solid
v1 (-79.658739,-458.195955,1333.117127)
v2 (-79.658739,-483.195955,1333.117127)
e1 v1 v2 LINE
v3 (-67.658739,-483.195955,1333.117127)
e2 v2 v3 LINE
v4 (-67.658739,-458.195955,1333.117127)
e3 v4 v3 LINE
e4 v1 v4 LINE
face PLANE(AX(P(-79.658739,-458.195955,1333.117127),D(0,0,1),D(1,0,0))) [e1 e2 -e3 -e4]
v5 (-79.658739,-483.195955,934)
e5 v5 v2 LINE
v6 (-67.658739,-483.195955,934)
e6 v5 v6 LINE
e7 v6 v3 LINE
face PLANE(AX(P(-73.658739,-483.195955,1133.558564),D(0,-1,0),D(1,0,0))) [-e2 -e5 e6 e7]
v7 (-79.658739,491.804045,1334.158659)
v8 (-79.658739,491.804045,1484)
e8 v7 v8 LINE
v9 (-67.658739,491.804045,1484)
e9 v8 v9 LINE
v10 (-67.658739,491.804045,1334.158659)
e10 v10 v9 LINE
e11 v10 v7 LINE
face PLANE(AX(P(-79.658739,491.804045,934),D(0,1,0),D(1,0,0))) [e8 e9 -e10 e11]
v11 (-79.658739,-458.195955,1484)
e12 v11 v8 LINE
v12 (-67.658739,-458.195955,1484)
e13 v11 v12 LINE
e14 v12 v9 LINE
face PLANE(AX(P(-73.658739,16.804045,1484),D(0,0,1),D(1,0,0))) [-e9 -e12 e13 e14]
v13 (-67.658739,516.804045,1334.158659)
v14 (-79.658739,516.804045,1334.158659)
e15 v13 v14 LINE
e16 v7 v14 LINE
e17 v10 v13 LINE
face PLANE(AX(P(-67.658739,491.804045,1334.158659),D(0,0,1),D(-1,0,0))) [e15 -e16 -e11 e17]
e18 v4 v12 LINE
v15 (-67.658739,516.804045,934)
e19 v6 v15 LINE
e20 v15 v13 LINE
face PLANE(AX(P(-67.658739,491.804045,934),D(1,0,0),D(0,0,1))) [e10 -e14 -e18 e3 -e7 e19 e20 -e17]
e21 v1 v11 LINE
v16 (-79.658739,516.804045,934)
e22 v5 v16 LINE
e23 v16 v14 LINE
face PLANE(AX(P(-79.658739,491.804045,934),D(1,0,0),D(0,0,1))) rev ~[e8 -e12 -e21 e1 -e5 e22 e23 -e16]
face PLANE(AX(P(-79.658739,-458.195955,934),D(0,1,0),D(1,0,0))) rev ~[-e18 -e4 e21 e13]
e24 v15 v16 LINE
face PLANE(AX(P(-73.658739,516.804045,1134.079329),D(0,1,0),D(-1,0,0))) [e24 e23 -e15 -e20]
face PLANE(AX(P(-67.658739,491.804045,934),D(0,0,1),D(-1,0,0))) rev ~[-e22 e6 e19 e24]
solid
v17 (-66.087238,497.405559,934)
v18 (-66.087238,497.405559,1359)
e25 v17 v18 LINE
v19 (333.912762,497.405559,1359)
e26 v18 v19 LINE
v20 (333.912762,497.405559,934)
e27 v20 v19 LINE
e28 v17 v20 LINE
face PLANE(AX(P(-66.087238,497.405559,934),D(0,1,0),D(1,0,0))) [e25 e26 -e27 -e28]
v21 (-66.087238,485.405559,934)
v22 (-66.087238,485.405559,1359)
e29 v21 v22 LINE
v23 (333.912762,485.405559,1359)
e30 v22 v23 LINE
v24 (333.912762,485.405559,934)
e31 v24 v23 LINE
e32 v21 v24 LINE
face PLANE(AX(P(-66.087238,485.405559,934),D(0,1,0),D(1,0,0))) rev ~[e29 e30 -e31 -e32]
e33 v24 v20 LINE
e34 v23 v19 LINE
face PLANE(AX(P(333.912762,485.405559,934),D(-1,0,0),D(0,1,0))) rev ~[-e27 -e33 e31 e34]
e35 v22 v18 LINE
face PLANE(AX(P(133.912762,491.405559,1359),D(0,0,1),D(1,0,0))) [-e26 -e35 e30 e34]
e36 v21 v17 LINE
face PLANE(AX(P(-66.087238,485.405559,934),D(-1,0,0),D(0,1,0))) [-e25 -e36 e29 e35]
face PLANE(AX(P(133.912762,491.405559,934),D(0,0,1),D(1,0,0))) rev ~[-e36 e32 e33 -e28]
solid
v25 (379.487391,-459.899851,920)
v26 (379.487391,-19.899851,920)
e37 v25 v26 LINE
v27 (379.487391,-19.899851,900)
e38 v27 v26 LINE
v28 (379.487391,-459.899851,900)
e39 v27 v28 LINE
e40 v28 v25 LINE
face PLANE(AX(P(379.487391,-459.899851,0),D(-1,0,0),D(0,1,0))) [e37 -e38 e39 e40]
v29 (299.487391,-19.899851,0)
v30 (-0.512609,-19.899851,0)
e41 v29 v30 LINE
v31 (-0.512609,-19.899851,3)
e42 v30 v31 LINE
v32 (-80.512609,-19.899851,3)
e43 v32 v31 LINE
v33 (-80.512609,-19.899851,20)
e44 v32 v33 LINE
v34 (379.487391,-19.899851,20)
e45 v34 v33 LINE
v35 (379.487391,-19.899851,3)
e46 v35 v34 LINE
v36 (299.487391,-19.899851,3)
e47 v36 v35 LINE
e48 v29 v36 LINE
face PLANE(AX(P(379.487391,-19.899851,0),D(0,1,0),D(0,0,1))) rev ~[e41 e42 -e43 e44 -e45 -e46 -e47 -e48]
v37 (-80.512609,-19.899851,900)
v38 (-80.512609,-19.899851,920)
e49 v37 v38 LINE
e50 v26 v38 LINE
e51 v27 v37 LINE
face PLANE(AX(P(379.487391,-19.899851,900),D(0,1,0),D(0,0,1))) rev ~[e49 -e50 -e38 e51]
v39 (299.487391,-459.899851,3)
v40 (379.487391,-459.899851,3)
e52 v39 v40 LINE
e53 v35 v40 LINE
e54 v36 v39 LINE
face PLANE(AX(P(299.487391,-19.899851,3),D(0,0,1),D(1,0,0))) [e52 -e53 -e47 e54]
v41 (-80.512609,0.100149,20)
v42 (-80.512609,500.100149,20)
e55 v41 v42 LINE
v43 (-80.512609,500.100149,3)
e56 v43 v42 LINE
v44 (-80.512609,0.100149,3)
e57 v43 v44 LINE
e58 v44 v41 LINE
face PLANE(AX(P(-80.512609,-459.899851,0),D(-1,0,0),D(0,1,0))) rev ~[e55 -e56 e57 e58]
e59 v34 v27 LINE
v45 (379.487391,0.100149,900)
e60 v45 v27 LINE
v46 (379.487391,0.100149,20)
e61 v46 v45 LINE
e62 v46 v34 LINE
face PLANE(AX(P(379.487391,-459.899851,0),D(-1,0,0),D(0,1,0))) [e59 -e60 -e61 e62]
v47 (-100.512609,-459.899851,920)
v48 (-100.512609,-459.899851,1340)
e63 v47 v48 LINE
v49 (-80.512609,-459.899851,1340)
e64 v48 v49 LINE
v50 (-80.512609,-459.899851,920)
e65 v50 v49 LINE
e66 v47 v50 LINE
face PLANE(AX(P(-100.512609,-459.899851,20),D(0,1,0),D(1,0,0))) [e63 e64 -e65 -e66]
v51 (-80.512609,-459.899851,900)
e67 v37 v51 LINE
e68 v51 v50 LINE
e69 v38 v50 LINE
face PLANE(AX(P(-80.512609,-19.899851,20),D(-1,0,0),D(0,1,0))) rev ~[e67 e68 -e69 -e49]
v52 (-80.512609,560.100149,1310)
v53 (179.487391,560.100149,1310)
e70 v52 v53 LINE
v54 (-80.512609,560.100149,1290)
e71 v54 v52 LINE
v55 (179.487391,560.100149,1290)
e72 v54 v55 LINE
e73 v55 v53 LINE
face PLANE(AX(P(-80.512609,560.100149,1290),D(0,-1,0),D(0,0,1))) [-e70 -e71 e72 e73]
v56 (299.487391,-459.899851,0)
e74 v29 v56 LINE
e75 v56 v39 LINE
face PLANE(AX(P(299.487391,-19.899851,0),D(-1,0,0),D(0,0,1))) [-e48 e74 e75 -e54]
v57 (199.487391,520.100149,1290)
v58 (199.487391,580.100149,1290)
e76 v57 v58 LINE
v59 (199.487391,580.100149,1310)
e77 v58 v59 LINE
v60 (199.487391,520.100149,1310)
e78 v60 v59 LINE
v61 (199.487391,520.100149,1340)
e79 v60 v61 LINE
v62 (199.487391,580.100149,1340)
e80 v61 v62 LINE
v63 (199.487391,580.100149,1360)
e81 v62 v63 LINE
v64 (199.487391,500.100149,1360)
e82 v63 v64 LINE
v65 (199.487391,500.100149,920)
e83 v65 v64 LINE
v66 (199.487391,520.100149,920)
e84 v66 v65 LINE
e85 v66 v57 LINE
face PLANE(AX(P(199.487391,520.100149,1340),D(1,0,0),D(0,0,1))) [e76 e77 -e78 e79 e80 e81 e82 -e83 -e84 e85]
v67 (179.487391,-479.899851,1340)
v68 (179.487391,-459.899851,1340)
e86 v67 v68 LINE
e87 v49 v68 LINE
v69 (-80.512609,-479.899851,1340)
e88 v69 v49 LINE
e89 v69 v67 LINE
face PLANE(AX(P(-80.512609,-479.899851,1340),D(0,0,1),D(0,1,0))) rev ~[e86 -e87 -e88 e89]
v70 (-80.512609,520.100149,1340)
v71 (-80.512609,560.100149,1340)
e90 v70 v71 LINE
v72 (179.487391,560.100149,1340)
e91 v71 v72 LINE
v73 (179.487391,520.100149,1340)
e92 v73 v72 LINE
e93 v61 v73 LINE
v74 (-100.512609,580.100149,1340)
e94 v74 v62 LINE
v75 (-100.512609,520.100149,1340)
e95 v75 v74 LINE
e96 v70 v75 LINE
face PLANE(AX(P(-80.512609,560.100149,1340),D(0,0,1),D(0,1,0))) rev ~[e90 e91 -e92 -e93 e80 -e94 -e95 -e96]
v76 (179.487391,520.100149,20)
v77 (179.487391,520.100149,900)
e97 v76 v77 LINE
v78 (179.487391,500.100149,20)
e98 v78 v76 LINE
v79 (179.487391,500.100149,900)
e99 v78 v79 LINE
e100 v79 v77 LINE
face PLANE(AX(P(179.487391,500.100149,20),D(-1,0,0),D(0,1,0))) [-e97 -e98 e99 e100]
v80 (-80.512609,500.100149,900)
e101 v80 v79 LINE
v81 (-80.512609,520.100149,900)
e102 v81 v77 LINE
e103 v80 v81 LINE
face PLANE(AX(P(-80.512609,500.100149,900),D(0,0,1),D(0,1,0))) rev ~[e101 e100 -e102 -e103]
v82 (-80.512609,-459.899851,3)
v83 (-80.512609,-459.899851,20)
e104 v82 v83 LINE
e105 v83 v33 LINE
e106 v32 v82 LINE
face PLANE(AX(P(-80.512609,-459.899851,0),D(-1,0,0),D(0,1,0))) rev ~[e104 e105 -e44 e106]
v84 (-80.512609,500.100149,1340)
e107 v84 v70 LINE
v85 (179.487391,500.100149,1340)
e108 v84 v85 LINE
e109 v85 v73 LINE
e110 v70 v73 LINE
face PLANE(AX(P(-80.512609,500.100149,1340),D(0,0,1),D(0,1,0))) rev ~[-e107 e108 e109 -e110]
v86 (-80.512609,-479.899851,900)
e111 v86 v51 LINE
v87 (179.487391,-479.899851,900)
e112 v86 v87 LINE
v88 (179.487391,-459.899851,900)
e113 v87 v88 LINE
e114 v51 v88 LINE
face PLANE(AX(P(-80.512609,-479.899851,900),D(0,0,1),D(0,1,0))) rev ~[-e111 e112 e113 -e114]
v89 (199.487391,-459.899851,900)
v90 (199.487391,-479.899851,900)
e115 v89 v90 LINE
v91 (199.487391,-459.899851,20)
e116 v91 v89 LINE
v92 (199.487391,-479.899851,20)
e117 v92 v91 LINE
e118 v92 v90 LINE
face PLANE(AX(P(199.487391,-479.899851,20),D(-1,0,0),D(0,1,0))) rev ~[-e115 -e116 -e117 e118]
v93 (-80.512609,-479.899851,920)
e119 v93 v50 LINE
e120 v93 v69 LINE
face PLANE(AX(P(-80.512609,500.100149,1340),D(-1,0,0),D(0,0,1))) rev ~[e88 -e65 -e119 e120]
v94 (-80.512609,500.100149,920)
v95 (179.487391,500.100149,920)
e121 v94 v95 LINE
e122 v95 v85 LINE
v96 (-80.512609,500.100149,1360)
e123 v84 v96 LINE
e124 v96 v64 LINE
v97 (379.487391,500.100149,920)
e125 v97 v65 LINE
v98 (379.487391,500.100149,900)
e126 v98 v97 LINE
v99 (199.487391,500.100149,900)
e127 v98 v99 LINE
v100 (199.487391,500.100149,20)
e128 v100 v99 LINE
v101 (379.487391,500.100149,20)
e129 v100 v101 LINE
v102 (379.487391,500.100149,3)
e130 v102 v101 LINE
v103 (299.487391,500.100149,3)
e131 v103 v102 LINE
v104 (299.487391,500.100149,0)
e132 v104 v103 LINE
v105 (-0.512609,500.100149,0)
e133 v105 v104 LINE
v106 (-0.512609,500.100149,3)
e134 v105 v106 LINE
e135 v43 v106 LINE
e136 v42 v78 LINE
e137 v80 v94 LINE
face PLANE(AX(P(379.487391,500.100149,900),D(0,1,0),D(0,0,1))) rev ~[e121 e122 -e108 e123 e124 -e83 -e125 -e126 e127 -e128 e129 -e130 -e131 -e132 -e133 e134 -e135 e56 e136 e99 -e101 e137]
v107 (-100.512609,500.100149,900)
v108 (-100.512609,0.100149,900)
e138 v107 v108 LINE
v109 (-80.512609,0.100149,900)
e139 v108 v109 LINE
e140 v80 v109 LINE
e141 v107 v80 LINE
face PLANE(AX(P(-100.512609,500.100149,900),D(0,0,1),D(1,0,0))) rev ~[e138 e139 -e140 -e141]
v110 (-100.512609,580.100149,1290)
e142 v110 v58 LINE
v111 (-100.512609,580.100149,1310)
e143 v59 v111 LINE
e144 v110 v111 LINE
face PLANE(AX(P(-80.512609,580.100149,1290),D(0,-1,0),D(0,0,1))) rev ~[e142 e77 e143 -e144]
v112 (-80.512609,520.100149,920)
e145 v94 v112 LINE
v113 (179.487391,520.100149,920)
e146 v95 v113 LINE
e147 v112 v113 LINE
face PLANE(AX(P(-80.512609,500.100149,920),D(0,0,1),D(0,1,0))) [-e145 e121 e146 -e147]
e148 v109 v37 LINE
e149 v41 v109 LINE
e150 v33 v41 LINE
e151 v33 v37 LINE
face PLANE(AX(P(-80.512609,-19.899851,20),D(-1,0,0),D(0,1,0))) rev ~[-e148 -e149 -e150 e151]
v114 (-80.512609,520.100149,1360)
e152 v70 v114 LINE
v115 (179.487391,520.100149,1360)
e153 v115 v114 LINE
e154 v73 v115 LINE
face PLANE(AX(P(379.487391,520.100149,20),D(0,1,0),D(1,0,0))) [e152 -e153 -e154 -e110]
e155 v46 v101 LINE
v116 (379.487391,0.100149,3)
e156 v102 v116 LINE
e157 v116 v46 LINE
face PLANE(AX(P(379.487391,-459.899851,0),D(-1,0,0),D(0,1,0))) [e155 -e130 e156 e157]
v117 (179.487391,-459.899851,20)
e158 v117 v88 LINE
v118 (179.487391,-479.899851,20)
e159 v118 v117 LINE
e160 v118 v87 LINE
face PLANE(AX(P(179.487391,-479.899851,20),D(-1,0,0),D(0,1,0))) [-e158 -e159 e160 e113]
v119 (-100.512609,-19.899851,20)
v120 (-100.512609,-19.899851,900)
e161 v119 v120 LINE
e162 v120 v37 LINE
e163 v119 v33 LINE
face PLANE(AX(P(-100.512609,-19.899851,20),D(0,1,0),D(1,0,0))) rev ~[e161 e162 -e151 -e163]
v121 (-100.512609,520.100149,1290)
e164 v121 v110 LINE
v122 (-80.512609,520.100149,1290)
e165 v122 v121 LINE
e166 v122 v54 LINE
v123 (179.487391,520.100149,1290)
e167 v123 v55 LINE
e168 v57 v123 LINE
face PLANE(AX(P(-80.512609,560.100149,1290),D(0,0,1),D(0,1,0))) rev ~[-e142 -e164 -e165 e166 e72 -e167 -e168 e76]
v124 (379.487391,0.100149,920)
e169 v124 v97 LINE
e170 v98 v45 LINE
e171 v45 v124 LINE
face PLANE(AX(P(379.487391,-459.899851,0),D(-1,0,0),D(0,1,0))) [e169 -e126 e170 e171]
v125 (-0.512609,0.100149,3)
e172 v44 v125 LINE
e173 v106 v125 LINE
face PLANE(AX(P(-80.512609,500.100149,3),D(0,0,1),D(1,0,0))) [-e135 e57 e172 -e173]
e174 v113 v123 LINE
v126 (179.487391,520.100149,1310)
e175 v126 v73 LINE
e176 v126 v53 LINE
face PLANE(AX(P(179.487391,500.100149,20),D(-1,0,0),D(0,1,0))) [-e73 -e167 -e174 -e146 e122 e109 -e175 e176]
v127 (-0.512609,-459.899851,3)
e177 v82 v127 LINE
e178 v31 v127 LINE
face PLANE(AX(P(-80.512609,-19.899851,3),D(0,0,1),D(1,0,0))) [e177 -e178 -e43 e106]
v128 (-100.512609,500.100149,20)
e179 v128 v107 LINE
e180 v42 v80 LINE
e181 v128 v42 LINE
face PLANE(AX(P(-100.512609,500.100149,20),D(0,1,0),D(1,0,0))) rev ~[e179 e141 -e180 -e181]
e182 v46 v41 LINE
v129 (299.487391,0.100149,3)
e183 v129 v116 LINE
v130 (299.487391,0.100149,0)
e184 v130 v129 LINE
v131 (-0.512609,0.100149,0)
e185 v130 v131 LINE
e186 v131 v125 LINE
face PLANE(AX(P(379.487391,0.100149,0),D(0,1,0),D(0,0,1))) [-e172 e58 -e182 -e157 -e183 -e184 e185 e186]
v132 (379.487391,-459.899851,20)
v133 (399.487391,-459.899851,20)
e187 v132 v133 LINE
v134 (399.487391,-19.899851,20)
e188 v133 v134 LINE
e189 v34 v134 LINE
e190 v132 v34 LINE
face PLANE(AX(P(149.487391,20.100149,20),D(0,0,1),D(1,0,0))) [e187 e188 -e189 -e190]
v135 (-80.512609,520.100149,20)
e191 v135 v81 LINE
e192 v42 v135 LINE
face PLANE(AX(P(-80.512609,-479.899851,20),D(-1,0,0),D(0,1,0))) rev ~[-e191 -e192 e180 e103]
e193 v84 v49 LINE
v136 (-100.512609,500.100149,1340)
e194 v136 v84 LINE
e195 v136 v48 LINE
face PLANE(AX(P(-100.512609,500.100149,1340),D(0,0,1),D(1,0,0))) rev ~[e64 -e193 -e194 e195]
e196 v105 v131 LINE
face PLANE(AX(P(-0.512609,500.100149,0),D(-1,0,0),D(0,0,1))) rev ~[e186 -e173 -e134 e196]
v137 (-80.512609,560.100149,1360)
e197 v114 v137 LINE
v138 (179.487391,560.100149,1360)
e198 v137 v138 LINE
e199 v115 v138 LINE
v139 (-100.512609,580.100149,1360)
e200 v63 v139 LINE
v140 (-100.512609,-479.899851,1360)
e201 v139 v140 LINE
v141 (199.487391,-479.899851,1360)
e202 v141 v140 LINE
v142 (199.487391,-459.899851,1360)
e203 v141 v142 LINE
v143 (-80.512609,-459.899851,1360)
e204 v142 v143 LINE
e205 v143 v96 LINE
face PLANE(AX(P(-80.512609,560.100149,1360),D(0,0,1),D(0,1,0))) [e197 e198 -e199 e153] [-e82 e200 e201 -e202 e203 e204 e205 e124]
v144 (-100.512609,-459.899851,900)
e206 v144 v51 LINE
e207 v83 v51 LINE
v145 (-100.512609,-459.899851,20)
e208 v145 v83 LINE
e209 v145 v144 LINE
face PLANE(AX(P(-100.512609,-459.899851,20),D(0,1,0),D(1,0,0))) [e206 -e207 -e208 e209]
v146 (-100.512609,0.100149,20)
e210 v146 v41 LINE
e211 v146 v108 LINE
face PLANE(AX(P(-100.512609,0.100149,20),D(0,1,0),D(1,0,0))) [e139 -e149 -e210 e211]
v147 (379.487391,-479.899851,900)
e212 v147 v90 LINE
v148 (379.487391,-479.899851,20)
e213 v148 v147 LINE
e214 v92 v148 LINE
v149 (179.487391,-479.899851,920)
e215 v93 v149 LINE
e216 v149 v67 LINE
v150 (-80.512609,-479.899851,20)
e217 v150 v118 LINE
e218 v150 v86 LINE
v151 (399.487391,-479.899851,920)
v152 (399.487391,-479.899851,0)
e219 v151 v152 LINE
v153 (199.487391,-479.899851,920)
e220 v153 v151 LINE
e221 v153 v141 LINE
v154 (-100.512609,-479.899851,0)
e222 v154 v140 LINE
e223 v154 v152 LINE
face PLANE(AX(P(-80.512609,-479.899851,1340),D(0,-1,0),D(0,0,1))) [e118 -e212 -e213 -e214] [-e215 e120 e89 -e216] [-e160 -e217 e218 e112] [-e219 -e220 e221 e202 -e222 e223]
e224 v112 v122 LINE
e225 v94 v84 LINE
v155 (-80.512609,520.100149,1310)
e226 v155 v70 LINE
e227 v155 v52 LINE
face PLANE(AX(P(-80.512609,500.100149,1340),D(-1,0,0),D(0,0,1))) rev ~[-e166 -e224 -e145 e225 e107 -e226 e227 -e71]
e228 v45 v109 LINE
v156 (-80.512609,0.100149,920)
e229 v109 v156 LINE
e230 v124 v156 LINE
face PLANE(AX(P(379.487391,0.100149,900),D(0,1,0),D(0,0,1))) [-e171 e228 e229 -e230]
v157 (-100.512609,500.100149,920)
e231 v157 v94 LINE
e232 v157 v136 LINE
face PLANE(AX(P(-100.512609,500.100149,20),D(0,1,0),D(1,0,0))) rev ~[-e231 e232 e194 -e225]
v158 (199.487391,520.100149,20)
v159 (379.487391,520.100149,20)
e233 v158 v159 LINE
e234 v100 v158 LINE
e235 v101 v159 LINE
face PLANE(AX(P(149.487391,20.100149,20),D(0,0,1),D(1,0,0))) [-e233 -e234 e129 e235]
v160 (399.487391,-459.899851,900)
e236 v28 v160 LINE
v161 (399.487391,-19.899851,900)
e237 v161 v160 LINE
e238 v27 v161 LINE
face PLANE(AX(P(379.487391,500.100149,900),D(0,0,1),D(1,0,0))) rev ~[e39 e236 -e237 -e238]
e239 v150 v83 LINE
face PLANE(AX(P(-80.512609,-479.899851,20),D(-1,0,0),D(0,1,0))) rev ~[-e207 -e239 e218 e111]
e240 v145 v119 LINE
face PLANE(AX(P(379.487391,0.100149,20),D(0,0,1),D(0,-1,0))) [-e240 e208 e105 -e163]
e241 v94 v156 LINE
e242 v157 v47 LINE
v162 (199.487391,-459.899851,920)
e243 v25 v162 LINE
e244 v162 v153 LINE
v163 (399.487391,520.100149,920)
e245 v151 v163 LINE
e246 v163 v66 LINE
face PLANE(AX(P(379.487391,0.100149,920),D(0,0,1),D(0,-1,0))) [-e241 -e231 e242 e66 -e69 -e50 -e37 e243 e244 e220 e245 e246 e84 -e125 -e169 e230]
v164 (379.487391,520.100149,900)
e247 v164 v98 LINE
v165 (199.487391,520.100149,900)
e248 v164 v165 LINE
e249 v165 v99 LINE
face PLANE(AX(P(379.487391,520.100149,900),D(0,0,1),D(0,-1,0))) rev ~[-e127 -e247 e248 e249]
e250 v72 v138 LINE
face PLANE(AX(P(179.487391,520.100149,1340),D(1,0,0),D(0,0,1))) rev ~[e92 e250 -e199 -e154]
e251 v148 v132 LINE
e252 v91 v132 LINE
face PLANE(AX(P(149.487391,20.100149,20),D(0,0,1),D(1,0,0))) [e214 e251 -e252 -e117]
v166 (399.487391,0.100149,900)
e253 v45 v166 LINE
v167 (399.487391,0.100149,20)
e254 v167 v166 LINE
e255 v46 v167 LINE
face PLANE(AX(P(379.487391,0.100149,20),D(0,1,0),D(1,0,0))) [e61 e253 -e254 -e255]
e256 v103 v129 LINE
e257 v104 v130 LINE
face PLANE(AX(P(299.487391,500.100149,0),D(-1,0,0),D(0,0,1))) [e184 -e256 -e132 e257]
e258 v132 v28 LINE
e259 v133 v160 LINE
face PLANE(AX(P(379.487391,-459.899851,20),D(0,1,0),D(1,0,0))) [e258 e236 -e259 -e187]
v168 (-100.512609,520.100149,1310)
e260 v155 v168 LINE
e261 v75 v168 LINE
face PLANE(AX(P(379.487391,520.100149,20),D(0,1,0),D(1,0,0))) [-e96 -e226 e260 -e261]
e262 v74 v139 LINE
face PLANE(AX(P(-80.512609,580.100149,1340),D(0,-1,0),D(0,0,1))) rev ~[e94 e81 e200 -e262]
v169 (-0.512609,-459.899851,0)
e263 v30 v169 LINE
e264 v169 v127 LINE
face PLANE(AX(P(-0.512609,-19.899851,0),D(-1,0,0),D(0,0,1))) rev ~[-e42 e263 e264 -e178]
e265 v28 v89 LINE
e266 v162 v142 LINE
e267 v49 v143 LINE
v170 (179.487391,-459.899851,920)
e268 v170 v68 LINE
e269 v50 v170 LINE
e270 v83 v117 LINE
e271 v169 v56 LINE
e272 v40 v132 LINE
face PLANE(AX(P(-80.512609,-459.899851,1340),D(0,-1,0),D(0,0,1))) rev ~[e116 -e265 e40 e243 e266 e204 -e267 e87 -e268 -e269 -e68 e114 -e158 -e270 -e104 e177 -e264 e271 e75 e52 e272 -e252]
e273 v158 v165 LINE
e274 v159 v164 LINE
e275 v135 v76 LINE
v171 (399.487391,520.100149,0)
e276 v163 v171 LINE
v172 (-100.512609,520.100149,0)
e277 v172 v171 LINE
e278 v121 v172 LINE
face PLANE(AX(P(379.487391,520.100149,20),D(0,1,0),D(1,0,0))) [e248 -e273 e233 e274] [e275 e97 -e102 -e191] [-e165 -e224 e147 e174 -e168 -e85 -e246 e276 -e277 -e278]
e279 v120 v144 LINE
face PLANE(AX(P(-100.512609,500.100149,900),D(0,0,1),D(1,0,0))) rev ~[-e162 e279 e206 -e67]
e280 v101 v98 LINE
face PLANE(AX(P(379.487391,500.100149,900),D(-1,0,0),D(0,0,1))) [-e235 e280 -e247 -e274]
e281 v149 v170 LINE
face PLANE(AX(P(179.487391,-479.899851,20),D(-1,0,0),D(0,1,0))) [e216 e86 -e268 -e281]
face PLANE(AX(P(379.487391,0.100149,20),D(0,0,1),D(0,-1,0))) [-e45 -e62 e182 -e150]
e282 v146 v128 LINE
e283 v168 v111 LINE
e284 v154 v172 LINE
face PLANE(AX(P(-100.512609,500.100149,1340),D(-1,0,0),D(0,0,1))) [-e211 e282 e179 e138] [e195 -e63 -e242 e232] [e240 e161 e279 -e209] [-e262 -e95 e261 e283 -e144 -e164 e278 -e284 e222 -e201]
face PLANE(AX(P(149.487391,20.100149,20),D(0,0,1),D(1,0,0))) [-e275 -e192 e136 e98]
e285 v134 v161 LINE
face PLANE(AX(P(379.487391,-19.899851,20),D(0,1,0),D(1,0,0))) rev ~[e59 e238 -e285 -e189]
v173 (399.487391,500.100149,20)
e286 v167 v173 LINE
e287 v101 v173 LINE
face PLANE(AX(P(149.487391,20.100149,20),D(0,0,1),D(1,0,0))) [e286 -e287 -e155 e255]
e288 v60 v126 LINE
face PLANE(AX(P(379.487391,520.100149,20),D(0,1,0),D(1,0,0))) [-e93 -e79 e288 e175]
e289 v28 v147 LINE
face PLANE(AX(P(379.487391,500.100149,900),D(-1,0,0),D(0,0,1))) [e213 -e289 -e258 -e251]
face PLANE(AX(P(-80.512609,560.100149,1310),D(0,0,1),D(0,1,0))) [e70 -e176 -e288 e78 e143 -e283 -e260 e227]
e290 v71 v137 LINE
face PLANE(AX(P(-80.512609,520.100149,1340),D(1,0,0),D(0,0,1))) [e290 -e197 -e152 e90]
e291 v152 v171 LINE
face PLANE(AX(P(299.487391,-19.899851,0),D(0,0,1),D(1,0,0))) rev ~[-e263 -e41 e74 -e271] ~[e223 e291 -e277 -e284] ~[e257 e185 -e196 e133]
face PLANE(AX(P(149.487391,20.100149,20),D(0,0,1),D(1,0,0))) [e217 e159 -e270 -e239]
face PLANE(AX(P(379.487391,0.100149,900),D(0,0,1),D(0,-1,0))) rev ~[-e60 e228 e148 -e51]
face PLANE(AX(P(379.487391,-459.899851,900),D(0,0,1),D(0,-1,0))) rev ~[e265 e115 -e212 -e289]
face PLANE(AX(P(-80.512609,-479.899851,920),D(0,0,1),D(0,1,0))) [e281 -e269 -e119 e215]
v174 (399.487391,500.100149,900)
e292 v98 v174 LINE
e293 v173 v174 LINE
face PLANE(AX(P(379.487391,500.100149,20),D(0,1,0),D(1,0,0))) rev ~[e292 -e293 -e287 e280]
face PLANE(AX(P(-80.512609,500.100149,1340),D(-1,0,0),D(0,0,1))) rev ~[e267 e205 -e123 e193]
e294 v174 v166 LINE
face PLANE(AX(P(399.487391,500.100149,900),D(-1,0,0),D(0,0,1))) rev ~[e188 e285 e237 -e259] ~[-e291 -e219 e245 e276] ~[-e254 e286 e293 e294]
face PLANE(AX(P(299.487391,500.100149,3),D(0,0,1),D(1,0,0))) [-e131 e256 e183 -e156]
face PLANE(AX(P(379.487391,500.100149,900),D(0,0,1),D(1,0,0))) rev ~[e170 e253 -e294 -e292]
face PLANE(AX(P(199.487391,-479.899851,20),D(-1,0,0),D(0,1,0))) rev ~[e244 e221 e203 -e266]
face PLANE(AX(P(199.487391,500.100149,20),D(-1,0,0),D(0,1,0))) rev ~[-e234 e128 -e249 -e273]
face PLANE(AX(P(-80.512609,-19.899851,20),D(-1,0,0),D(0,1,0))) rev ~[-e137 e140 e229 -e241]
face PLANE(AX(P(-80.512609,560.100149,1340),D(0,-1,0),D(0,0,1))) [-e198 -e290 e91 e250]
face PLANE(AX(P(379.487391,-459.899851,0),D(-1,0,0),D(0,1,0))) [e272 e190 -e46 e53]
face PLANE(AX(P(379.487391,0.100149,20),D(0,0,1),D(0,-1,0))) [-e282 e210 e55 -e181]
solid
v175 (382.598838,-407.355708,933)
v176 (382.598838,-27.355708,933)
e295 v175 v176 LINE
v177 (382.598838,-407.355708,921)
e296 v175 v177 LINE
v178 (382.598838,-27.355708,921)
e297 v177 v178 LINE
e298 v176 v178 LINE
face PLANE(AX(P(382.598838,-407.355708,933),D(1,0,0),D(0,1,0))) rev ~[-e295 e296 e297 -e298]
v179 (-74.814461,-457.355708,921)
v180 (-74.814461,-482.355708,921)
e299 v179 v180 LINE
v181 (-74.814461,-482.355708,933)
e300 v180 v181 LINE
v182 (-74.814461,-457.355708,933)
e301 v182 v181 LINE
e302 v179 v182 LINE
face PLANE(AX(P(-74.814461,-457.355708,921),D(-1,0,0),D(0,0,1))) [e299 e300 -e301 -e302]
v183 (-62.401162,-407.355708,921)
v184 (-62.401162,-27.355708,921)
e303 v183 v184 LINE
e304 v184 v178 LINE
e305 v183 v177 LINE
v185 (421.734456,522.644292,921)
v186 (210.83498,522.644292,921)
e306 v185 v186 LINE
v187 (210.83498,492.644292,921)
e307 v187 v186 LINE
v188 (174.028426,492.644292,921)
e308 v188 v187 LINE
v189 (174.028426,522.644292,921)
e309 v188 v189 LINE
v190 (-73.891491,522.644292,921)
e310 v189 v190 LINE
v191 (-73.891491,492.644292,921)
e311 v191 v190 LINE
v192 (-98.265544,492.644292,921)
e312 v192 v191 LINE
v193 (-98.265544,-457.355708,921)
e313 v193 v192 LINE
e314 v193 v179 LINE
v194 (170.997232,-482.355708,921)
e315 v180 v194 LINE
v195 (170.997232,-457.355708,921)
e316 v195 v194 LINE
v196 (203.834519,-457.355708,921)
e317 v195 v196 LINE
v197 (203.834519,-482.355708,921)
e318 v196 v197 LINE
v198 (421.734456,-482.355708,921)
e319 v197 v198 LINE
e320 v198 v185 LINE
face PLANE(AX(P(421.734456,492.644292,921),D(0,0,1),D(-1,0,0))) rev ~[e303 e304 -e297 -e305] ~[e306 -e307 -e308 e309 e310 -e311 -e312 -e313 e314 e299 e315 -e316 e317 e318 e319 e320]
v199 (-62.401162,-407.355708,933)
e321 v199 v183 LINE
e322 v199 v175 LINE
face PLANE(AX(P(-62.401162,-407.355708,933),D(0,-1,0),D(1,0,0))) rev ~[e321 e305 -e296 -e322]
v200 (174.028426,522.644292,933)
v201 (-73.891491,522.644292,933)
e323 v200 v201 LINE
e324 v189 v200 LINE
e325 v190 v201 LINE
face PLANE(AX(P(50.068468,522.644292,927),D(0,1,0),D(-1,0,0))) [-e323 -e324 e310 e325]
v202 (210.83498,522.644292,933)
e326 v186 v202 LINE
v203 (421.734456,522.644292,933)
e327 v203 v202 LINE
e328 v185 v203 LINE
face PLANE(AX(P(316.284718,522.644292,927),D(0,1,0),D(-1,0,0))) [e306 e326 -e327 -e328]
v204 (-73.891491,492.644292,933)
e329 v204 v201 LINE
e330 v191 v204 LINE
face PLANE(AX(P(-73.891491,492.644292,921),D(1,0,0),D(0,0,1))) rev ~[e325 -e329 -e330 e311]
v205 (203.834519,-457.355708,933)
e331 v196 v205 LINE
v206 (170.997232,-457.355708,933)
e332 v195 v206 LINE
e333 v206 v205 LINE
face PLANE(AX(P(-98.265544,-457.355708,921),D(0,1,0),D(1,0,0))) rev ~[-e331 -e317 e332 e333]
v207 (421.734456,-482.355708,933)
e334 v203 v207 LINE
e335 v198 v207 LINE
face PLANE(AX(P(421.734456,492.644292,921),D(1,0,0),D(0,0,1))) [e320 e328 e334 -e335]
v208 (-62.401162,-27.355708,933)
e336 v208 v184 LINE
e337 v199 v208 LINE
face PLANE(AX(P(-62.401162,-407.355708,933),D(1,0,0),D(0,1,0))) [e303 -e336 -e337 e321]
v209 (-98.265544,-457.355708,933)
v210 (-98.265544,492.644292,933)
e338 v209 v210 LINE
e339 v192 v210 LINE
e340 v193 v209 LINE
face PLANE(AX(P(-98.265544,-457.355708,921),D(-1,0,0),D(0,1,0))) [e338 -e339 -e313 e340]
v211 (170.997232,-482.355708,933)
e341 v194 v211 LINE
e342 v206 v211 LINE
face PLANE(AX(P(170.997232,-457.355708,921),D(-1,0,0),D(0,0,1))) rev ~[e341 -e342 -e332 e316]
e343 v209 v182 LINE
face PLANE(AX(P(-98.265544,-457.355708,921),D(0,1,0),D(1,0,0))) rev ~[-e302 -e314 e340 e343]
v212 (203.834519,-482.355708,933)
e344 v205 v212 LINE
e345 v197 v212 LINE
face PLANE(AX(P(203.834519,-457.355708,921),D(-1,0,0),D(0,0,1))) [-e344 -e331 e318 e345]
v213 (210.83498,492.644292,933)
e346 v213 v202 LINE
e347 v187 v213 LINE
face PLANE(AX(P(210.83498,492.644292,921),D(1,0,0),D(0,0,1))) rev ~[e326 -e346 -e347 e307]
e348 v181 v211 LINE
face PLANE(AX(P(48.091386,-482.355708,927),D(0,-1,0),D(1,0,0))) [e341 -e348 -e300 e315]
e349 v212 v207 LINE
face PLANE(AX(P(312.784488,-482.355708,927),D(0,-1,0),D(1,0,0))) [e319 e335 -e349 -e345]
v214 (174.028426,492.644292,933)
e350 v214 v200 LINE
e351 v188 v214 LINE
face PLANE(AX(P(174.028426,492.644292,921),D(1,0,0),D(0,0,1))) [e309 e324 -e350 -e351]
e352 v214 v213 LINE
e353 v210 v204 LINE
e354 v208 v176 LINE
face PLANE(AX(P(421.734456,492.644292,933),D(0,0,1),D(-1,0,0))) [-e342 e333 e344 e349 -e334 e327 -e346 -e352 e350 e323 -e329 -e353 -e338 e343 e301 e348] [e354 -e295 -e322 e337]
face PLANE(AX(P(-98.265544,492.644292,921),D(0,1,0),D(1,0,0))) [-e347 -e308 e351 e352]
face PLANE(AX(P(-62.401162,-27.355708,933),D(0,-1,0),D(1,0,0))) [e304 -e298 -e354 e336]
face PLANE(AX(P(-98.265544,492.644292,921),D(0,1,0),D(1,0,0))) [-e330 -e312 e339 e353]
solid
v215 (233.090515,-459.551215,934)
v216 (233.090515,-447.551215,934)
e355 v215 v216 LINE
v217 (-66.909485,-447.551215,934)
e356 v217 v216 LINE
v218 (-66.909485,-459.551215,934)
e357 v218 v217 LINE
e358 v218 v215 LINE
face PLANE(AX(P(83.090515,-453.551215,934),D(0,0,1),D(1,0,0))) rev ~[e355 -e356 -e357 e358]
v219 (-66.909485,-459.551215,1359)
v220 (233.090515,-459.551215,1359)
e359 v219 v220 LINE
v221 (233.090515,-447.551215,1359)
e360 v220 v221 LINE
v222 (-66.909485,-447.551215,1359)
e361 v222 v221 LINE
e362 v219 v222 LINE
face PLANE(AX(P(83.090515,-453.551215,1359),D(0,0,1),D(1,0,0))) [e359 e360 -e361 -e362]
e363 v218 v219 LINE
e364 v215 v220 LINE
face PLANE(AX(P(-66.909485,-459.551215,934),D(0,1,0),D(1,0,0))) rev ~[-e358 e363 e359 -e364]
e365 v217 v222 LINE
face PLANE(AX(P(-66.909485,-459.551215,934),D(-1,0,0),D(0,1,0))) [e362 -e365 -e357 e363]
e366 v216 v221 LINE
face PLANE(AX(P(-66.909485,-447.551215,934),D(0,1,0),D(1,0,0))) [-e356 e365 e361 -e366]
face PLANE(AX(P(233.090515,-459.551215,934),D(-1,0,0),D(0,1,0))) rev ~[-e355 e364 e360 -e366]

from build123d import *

# Parameters (mm, degrees)
F0_W      = 500
F0_H      = 1000
F0_W_2    = 460
F0_H_2    = 960
F1_DEPTH  = 20
F2_W      = 20
F2_H      = 20
F3_DEPTH  = 1340
F4_W      = 20
F4_H      = 20
F5_DEPTH  = 900
F6_W      = 20
F6_H      = 20
F7_DEPTH  = 960
F8_W      = 20
F8_H      = 20
F9_DEPTH  = 180
F10_W     = 20
F10_H     = 20
F11_DEPTH = 880
F12_W     = 20
F12_H     = 20
F13_DEPTH = 460
F14_W     = 20
F14_H     = 20
F15_DEPTH = 960
F16_W     = 20
F16_H     = 20
F17_DEPTH = 260
F18_W     = 20
F18_H     = 20
F19_DEPTH = 880
F20_W     = 20
F20_H     = 20
F21_DEPTH = 460
F22_W     = 20
F22_H     = 20
F23_DEPTH = 960
F24_W     = 20
F24_H     = 20
F25_DEPTH = 260
F26_W     = 20
F26_H     = 20
F27_DEPTH = 60
F28_W     = 20
F28_H     = 20
F29_DEPTH = 260
F30_W     = 80
F30_H     = 3
F31_DEPTH = 500
F32_W     = 80
F32_H     = 3
F33_DEPTH = 440
F34_W     = 20
F34_H     = 20
F35_DEPTH = 260
F37_W     = 520
F37_H     = 950
F38_DEPTH = 12
F39_W     = 445
F39_H     = 380
F40_DEPTH = 25
F41_W     = 245.8116933703
F41_H     = 12
F41_W_2   = 217.8999376297
F42_DEPTH = 25
F43_W     = 210.899476409
F43_H     = 12
F43_W_2   = 247.9199171066
F44_DEPTH = 30
F46_W     = 12
F46_H     = 950
F47_DEPTH = 550
F48_W     = 12
F48_H     = 399.1171274185
F49_DEPTH = 25
F50_W     = 400
F50_H     = 12
F51_DEPTH = 425
F52_W     = 12
F52_H     = 400.1586589813
F53_DEPTH = 25
F54_W     = 300
F54_H     = 12
F55_DEPTH = 425


with BuildPart() as f1:
    # F0 (on Top) → F1 (new body)
    with BuildSketch(Plane.XY):
        with Locations((149.4873911142, 20.100149343)):
            Rectangle(F0_W, F0_H)
        with Locations((149.4873911142, 20.100149343)):
            Rectangle(F0_W_2, F0_H_2, mode=Mode.SUBTRACT)
    extrude(amount=F1_DEPTH)

    # F2 (on face) → F3 (join)
    with BuildSketch(Plane.XY.offset(20)):
        with Locations((-90.5126088858, 510.100149343)):
            Rectangle(F2_W, F2_H)
        with Locations((-90.5126088858, -469.899850657)):
            Rectangle(F2_W, F2_H)
        with Locations((189.4873911142, -469.899850657)):
            Rectangle(F2_W, F2_H)
        with Locations((189.4873911142, 510.100149343)):
            Rectangle(F2_W, F2_H)
    extrude(amount=F3_DEPTH)

    # F4 (on face) → F5 (join)
    with BuildSketch(Plane.XY.offset(20)):
        with Locations((389.4873911142, 510.100149343)):
            Rectangle(F4_W, F4_H)
        with Locations((389.4873911142, -469.899850657)):
            Rectangle(F4_W, F4_H)
    extrude(amount=F5_DEPTH)

    # F6 (on face) → F7 (join, through all)
    with BuildSketch(Plane.XZ.offset(-500.100149343)):
        with Locations((389.4873911142, 910)):
            Rectangle(F6_W, F6_H)
    extrude(amount=F7_DEPTH)

    # F8 (on face) → F9 (join, through all)
    with BuildSketch(Plane(origin=(379.4873911142, 0, 0), x_dir=(0, -1, 0), z_dir=(-1, 0, 0))):
        with Locations((469.899850657, 910)):
            Rectangle(F8_W, F8_H)
        with Locations((-510.100149343, 910)):
            Rectangle(F8_W, F8_H)
    extrude(amount=F9_DEPTH)

    # F10 (on face) → F11 (join, through all)
    with BuildSketch(Plane.XY.offset(20)):
        with Locations((389.4873911142, -9.899850657)):
            Rectangle(F10_W, F10_H)
    extrude(amount=F11_DEPTH)

    # F12 (on face) → F13 (join, through all)
    with BuildSketch(Plane(origin=(379.4873911142, 0, 0), x_dir=(0, -1, 0), z_dir=(-1, 0, 0))):
        with Locations((9.899850657, 10)):
            Rectangle(F12_W, F12_H)
    extrude(amount=F13_DEPTH)

    # F14 (on face) → F15 (join, through all)
    with BuildSketch(Plane.XZ.offset(-500.100149343)):
        with Locations((-90.5126088858, 910)):
            Rectangle(F14_W, F14_H)
    extrude(amount=F15_DEPTH)

    # F16 (on face) → F17 (join, through all)
    with BuildSketch(Plane.YZ.offset(-80.5126088858)):
        with Locations((-469.899850657, 910)):
            Rectangle(F16_W, F16_H)
        with Locations((510.100149343, 910)):
            Rectangle(F16_W, F16_H)
    extrude(amount=F17_DEPTH)

    # F18 (on face) → F19 (join, through all)
    with BuildSketch(Plane.XY.offset(20)):
        with Locations((-90.5126088858, -9.899850657)):
            Rectangle(F18_W, F18_H)
    extrude(amount=F19_DEPTH)

    # F20 (on face) → F21 (join, through all)
    with BuildSketch(Plane(origin=(379.4873911142, 0, 0), x_dir=(0, -1, 0), z_dir=(-1, 0, 0))):
        with Locations((9.899850657, 910)):
            Rectangle(F20_W, F20_H)
    extrude(amount=F21_DEPTH)

    # F22 (on face) → F23 (join, through all)
    with BuildSketch(Plane.XZ.offset(-500.100149343)):
        with Locations((-90.5126088858, 1350)):
            Rectangle(F22_W, F22_H)
    extrude(amount=F23_DEPTH)

    # F24 (on face) → F25 (join, through all)
    with BuildSketch(Plane.YZ.offset(-80.5126088858)):
        with Locations((-469.899850657, 1350)):
            Rectangle(F24_W, F24_H)
        with Locations((510.100149343, 1350)):
            Rectangle(F24_W, F24_H)
    extrude(amount=F25_DEPTH)

    # F26 (on face) → F27 (join)
    with BuildSketch(Plane(origin=(0, 520.100149343, 0), x_dir=(-1, 0, 0), z_dir=(0, 1, 0))):
        with Locations((-189.4873911142, 1350)):
            Rectangle(F26_W, F26_H)
        with Locations((90.5126088858, 1350)):
            Rectangle(F26_W, F26_H)
        with Locations((-189.4873911142, 1300)):
            Rectangle(F26_W, F26_H)
        with Locations((90.5126088858, 1300)):
            Rectangle(F26_W, F26_H)
    extrude(amount=F27_DEPTH)

    # F28 (on face) → F29 (join, through all)
    with BuildSketch(Plane.YZ.offset(-80.5126088858)):
        with Locations((570.100149343, 1350)):
            Rectangle(F28_W, F28_H)
    extrude(amount=F29_DEPTH)

    # F30 (on face) → F31 (join, through all)
    with BuildSketch(Plane.XZ.offset(-500.100149343)):
        with Locations((339.4873911142, 1.5)):
            Rectangle(F30_W, F30_H)
        with Locations((-40.5126088858, 1.5)):
            Rectangle(F30_W, F30_H)
    extrude(amount=F31_DEPTH)

    # F32 (on face) → F33 (join, through all)
    with BuildSketch(Plane.XZ.offset(19.899850657)):
        with Locations((339.4873911142, 1.5)):
            Rectangle(F32_W, F32_H)
        with Locations((-40.5126088858, 1.5)):
            Rectangle(F32_W, F32_H)
    extrude(amount=F33_DEPTH)

    # F34 (on face) → F35 (join, through all)
    with BuildSketch(Plane.YZ.offset(-80.5126088858)):
        with Locations((570.100149343, 1300)):
            Rectangle(F34_W, F34_H)
    extrude(amount=F35_DEPTH)


with BuildPart() as f38:
    # F37 (on offset) → F38 (new body)
    with BuildSketch(Plane.XY.offset(921)):
        with Locations((161.7344564199, 17.6442921162)):
            Rectangle(F37_W, F37_H)
    extrude(amount=F38_DEPTH)

    # F39 (on face) → F40 (cut)
    with BuildSketch(Plane.XY.offset(933)):
        with Locations((160.0988378877, -217.3557078838)):
            Rectangle(F39_W, F39_H)
    extrude(amount=-F40_DEPTH, mode=Mode.SUBTRACT)

    # F41 (on face) → F42 (join)
    with BuildSketch(Plane.XZ.offset(457.3557078838)):
        with Locations((48.0913855135, 927)):
            Rectangle(F41_W, F41_H)
        with Locations((312.7844876051, 927)):
            Rectangle(F41_W_2, F41_H)
    extrude(amount=F42_DEPTH)

    # F43 (on face) → F44 (join)
    with BuildSketch(Plane(origin=(0, 492.6442921162, 0), x_dir=(-1, 0, 0), z_dir=(0, 1, 0))):
        with Locations((-316.2847182155, 927)):
            Rectangle(F43_W, F43_H)
        with Locations((-50.0684678555, 927)):
            Rectangle(F43_W_2, F43_H)
    extrude(amount=F44_DEPTH)


with BuildPart() as f47:
    # F46 (on offset) → F47 (new body)
    with BuildSketch(Plane.XY.offset(934)):
        with Locations((-73.6587392688, 16.8040454388)):
            Rectangle(F46_W, F46_H)
    extrude(amount=F47_DEPTH)

    # F48 (on face) → F49 (join)
    with BuildSketch(Plane.XZ.offset(458.1959545612)):
        with Locations((-73.6587392688, 1133.5585637093)):
            Rectangle(F48_W, F48_H)
    extrude(amount=F49_DEPTH)

    # F52 (on face) → F53 (join)
    with BuildSketch(Plane(origin=(0, 491.8040454388, 0), x_dir=(-1, 0, 0), z_dir=(0, 1, 0))):
        with Locations((73.6587392688, 1134.0793294907)):
            Rectangle(F52_W, F52_H)
    extrude(amount=F53_DEPTH)


with BuildPart() as f51:
    # F50 (on offset) → F51 (new body)
    with BuildSketch(Plane.XY.offset(934)):
        with Locations((133.9127615094, 491.4055588245)):
            Rectangle(F50_W, F50_H)
    extrude(amount=F51_DEPTH)


with BuildPart() as f55:
    # F54 (on offset) → F55 (new body)
    with BuildSketch(Plane.XY.offset(934)):
        with Locations((83.0905154347, -453.5512151718)):
            Rectangle(F54_W, F54_H)
    extrude(amount=F55_DEPTH)


solid = Compound([f1.part, f38.part, f47.part, f51.part, f55.part])
